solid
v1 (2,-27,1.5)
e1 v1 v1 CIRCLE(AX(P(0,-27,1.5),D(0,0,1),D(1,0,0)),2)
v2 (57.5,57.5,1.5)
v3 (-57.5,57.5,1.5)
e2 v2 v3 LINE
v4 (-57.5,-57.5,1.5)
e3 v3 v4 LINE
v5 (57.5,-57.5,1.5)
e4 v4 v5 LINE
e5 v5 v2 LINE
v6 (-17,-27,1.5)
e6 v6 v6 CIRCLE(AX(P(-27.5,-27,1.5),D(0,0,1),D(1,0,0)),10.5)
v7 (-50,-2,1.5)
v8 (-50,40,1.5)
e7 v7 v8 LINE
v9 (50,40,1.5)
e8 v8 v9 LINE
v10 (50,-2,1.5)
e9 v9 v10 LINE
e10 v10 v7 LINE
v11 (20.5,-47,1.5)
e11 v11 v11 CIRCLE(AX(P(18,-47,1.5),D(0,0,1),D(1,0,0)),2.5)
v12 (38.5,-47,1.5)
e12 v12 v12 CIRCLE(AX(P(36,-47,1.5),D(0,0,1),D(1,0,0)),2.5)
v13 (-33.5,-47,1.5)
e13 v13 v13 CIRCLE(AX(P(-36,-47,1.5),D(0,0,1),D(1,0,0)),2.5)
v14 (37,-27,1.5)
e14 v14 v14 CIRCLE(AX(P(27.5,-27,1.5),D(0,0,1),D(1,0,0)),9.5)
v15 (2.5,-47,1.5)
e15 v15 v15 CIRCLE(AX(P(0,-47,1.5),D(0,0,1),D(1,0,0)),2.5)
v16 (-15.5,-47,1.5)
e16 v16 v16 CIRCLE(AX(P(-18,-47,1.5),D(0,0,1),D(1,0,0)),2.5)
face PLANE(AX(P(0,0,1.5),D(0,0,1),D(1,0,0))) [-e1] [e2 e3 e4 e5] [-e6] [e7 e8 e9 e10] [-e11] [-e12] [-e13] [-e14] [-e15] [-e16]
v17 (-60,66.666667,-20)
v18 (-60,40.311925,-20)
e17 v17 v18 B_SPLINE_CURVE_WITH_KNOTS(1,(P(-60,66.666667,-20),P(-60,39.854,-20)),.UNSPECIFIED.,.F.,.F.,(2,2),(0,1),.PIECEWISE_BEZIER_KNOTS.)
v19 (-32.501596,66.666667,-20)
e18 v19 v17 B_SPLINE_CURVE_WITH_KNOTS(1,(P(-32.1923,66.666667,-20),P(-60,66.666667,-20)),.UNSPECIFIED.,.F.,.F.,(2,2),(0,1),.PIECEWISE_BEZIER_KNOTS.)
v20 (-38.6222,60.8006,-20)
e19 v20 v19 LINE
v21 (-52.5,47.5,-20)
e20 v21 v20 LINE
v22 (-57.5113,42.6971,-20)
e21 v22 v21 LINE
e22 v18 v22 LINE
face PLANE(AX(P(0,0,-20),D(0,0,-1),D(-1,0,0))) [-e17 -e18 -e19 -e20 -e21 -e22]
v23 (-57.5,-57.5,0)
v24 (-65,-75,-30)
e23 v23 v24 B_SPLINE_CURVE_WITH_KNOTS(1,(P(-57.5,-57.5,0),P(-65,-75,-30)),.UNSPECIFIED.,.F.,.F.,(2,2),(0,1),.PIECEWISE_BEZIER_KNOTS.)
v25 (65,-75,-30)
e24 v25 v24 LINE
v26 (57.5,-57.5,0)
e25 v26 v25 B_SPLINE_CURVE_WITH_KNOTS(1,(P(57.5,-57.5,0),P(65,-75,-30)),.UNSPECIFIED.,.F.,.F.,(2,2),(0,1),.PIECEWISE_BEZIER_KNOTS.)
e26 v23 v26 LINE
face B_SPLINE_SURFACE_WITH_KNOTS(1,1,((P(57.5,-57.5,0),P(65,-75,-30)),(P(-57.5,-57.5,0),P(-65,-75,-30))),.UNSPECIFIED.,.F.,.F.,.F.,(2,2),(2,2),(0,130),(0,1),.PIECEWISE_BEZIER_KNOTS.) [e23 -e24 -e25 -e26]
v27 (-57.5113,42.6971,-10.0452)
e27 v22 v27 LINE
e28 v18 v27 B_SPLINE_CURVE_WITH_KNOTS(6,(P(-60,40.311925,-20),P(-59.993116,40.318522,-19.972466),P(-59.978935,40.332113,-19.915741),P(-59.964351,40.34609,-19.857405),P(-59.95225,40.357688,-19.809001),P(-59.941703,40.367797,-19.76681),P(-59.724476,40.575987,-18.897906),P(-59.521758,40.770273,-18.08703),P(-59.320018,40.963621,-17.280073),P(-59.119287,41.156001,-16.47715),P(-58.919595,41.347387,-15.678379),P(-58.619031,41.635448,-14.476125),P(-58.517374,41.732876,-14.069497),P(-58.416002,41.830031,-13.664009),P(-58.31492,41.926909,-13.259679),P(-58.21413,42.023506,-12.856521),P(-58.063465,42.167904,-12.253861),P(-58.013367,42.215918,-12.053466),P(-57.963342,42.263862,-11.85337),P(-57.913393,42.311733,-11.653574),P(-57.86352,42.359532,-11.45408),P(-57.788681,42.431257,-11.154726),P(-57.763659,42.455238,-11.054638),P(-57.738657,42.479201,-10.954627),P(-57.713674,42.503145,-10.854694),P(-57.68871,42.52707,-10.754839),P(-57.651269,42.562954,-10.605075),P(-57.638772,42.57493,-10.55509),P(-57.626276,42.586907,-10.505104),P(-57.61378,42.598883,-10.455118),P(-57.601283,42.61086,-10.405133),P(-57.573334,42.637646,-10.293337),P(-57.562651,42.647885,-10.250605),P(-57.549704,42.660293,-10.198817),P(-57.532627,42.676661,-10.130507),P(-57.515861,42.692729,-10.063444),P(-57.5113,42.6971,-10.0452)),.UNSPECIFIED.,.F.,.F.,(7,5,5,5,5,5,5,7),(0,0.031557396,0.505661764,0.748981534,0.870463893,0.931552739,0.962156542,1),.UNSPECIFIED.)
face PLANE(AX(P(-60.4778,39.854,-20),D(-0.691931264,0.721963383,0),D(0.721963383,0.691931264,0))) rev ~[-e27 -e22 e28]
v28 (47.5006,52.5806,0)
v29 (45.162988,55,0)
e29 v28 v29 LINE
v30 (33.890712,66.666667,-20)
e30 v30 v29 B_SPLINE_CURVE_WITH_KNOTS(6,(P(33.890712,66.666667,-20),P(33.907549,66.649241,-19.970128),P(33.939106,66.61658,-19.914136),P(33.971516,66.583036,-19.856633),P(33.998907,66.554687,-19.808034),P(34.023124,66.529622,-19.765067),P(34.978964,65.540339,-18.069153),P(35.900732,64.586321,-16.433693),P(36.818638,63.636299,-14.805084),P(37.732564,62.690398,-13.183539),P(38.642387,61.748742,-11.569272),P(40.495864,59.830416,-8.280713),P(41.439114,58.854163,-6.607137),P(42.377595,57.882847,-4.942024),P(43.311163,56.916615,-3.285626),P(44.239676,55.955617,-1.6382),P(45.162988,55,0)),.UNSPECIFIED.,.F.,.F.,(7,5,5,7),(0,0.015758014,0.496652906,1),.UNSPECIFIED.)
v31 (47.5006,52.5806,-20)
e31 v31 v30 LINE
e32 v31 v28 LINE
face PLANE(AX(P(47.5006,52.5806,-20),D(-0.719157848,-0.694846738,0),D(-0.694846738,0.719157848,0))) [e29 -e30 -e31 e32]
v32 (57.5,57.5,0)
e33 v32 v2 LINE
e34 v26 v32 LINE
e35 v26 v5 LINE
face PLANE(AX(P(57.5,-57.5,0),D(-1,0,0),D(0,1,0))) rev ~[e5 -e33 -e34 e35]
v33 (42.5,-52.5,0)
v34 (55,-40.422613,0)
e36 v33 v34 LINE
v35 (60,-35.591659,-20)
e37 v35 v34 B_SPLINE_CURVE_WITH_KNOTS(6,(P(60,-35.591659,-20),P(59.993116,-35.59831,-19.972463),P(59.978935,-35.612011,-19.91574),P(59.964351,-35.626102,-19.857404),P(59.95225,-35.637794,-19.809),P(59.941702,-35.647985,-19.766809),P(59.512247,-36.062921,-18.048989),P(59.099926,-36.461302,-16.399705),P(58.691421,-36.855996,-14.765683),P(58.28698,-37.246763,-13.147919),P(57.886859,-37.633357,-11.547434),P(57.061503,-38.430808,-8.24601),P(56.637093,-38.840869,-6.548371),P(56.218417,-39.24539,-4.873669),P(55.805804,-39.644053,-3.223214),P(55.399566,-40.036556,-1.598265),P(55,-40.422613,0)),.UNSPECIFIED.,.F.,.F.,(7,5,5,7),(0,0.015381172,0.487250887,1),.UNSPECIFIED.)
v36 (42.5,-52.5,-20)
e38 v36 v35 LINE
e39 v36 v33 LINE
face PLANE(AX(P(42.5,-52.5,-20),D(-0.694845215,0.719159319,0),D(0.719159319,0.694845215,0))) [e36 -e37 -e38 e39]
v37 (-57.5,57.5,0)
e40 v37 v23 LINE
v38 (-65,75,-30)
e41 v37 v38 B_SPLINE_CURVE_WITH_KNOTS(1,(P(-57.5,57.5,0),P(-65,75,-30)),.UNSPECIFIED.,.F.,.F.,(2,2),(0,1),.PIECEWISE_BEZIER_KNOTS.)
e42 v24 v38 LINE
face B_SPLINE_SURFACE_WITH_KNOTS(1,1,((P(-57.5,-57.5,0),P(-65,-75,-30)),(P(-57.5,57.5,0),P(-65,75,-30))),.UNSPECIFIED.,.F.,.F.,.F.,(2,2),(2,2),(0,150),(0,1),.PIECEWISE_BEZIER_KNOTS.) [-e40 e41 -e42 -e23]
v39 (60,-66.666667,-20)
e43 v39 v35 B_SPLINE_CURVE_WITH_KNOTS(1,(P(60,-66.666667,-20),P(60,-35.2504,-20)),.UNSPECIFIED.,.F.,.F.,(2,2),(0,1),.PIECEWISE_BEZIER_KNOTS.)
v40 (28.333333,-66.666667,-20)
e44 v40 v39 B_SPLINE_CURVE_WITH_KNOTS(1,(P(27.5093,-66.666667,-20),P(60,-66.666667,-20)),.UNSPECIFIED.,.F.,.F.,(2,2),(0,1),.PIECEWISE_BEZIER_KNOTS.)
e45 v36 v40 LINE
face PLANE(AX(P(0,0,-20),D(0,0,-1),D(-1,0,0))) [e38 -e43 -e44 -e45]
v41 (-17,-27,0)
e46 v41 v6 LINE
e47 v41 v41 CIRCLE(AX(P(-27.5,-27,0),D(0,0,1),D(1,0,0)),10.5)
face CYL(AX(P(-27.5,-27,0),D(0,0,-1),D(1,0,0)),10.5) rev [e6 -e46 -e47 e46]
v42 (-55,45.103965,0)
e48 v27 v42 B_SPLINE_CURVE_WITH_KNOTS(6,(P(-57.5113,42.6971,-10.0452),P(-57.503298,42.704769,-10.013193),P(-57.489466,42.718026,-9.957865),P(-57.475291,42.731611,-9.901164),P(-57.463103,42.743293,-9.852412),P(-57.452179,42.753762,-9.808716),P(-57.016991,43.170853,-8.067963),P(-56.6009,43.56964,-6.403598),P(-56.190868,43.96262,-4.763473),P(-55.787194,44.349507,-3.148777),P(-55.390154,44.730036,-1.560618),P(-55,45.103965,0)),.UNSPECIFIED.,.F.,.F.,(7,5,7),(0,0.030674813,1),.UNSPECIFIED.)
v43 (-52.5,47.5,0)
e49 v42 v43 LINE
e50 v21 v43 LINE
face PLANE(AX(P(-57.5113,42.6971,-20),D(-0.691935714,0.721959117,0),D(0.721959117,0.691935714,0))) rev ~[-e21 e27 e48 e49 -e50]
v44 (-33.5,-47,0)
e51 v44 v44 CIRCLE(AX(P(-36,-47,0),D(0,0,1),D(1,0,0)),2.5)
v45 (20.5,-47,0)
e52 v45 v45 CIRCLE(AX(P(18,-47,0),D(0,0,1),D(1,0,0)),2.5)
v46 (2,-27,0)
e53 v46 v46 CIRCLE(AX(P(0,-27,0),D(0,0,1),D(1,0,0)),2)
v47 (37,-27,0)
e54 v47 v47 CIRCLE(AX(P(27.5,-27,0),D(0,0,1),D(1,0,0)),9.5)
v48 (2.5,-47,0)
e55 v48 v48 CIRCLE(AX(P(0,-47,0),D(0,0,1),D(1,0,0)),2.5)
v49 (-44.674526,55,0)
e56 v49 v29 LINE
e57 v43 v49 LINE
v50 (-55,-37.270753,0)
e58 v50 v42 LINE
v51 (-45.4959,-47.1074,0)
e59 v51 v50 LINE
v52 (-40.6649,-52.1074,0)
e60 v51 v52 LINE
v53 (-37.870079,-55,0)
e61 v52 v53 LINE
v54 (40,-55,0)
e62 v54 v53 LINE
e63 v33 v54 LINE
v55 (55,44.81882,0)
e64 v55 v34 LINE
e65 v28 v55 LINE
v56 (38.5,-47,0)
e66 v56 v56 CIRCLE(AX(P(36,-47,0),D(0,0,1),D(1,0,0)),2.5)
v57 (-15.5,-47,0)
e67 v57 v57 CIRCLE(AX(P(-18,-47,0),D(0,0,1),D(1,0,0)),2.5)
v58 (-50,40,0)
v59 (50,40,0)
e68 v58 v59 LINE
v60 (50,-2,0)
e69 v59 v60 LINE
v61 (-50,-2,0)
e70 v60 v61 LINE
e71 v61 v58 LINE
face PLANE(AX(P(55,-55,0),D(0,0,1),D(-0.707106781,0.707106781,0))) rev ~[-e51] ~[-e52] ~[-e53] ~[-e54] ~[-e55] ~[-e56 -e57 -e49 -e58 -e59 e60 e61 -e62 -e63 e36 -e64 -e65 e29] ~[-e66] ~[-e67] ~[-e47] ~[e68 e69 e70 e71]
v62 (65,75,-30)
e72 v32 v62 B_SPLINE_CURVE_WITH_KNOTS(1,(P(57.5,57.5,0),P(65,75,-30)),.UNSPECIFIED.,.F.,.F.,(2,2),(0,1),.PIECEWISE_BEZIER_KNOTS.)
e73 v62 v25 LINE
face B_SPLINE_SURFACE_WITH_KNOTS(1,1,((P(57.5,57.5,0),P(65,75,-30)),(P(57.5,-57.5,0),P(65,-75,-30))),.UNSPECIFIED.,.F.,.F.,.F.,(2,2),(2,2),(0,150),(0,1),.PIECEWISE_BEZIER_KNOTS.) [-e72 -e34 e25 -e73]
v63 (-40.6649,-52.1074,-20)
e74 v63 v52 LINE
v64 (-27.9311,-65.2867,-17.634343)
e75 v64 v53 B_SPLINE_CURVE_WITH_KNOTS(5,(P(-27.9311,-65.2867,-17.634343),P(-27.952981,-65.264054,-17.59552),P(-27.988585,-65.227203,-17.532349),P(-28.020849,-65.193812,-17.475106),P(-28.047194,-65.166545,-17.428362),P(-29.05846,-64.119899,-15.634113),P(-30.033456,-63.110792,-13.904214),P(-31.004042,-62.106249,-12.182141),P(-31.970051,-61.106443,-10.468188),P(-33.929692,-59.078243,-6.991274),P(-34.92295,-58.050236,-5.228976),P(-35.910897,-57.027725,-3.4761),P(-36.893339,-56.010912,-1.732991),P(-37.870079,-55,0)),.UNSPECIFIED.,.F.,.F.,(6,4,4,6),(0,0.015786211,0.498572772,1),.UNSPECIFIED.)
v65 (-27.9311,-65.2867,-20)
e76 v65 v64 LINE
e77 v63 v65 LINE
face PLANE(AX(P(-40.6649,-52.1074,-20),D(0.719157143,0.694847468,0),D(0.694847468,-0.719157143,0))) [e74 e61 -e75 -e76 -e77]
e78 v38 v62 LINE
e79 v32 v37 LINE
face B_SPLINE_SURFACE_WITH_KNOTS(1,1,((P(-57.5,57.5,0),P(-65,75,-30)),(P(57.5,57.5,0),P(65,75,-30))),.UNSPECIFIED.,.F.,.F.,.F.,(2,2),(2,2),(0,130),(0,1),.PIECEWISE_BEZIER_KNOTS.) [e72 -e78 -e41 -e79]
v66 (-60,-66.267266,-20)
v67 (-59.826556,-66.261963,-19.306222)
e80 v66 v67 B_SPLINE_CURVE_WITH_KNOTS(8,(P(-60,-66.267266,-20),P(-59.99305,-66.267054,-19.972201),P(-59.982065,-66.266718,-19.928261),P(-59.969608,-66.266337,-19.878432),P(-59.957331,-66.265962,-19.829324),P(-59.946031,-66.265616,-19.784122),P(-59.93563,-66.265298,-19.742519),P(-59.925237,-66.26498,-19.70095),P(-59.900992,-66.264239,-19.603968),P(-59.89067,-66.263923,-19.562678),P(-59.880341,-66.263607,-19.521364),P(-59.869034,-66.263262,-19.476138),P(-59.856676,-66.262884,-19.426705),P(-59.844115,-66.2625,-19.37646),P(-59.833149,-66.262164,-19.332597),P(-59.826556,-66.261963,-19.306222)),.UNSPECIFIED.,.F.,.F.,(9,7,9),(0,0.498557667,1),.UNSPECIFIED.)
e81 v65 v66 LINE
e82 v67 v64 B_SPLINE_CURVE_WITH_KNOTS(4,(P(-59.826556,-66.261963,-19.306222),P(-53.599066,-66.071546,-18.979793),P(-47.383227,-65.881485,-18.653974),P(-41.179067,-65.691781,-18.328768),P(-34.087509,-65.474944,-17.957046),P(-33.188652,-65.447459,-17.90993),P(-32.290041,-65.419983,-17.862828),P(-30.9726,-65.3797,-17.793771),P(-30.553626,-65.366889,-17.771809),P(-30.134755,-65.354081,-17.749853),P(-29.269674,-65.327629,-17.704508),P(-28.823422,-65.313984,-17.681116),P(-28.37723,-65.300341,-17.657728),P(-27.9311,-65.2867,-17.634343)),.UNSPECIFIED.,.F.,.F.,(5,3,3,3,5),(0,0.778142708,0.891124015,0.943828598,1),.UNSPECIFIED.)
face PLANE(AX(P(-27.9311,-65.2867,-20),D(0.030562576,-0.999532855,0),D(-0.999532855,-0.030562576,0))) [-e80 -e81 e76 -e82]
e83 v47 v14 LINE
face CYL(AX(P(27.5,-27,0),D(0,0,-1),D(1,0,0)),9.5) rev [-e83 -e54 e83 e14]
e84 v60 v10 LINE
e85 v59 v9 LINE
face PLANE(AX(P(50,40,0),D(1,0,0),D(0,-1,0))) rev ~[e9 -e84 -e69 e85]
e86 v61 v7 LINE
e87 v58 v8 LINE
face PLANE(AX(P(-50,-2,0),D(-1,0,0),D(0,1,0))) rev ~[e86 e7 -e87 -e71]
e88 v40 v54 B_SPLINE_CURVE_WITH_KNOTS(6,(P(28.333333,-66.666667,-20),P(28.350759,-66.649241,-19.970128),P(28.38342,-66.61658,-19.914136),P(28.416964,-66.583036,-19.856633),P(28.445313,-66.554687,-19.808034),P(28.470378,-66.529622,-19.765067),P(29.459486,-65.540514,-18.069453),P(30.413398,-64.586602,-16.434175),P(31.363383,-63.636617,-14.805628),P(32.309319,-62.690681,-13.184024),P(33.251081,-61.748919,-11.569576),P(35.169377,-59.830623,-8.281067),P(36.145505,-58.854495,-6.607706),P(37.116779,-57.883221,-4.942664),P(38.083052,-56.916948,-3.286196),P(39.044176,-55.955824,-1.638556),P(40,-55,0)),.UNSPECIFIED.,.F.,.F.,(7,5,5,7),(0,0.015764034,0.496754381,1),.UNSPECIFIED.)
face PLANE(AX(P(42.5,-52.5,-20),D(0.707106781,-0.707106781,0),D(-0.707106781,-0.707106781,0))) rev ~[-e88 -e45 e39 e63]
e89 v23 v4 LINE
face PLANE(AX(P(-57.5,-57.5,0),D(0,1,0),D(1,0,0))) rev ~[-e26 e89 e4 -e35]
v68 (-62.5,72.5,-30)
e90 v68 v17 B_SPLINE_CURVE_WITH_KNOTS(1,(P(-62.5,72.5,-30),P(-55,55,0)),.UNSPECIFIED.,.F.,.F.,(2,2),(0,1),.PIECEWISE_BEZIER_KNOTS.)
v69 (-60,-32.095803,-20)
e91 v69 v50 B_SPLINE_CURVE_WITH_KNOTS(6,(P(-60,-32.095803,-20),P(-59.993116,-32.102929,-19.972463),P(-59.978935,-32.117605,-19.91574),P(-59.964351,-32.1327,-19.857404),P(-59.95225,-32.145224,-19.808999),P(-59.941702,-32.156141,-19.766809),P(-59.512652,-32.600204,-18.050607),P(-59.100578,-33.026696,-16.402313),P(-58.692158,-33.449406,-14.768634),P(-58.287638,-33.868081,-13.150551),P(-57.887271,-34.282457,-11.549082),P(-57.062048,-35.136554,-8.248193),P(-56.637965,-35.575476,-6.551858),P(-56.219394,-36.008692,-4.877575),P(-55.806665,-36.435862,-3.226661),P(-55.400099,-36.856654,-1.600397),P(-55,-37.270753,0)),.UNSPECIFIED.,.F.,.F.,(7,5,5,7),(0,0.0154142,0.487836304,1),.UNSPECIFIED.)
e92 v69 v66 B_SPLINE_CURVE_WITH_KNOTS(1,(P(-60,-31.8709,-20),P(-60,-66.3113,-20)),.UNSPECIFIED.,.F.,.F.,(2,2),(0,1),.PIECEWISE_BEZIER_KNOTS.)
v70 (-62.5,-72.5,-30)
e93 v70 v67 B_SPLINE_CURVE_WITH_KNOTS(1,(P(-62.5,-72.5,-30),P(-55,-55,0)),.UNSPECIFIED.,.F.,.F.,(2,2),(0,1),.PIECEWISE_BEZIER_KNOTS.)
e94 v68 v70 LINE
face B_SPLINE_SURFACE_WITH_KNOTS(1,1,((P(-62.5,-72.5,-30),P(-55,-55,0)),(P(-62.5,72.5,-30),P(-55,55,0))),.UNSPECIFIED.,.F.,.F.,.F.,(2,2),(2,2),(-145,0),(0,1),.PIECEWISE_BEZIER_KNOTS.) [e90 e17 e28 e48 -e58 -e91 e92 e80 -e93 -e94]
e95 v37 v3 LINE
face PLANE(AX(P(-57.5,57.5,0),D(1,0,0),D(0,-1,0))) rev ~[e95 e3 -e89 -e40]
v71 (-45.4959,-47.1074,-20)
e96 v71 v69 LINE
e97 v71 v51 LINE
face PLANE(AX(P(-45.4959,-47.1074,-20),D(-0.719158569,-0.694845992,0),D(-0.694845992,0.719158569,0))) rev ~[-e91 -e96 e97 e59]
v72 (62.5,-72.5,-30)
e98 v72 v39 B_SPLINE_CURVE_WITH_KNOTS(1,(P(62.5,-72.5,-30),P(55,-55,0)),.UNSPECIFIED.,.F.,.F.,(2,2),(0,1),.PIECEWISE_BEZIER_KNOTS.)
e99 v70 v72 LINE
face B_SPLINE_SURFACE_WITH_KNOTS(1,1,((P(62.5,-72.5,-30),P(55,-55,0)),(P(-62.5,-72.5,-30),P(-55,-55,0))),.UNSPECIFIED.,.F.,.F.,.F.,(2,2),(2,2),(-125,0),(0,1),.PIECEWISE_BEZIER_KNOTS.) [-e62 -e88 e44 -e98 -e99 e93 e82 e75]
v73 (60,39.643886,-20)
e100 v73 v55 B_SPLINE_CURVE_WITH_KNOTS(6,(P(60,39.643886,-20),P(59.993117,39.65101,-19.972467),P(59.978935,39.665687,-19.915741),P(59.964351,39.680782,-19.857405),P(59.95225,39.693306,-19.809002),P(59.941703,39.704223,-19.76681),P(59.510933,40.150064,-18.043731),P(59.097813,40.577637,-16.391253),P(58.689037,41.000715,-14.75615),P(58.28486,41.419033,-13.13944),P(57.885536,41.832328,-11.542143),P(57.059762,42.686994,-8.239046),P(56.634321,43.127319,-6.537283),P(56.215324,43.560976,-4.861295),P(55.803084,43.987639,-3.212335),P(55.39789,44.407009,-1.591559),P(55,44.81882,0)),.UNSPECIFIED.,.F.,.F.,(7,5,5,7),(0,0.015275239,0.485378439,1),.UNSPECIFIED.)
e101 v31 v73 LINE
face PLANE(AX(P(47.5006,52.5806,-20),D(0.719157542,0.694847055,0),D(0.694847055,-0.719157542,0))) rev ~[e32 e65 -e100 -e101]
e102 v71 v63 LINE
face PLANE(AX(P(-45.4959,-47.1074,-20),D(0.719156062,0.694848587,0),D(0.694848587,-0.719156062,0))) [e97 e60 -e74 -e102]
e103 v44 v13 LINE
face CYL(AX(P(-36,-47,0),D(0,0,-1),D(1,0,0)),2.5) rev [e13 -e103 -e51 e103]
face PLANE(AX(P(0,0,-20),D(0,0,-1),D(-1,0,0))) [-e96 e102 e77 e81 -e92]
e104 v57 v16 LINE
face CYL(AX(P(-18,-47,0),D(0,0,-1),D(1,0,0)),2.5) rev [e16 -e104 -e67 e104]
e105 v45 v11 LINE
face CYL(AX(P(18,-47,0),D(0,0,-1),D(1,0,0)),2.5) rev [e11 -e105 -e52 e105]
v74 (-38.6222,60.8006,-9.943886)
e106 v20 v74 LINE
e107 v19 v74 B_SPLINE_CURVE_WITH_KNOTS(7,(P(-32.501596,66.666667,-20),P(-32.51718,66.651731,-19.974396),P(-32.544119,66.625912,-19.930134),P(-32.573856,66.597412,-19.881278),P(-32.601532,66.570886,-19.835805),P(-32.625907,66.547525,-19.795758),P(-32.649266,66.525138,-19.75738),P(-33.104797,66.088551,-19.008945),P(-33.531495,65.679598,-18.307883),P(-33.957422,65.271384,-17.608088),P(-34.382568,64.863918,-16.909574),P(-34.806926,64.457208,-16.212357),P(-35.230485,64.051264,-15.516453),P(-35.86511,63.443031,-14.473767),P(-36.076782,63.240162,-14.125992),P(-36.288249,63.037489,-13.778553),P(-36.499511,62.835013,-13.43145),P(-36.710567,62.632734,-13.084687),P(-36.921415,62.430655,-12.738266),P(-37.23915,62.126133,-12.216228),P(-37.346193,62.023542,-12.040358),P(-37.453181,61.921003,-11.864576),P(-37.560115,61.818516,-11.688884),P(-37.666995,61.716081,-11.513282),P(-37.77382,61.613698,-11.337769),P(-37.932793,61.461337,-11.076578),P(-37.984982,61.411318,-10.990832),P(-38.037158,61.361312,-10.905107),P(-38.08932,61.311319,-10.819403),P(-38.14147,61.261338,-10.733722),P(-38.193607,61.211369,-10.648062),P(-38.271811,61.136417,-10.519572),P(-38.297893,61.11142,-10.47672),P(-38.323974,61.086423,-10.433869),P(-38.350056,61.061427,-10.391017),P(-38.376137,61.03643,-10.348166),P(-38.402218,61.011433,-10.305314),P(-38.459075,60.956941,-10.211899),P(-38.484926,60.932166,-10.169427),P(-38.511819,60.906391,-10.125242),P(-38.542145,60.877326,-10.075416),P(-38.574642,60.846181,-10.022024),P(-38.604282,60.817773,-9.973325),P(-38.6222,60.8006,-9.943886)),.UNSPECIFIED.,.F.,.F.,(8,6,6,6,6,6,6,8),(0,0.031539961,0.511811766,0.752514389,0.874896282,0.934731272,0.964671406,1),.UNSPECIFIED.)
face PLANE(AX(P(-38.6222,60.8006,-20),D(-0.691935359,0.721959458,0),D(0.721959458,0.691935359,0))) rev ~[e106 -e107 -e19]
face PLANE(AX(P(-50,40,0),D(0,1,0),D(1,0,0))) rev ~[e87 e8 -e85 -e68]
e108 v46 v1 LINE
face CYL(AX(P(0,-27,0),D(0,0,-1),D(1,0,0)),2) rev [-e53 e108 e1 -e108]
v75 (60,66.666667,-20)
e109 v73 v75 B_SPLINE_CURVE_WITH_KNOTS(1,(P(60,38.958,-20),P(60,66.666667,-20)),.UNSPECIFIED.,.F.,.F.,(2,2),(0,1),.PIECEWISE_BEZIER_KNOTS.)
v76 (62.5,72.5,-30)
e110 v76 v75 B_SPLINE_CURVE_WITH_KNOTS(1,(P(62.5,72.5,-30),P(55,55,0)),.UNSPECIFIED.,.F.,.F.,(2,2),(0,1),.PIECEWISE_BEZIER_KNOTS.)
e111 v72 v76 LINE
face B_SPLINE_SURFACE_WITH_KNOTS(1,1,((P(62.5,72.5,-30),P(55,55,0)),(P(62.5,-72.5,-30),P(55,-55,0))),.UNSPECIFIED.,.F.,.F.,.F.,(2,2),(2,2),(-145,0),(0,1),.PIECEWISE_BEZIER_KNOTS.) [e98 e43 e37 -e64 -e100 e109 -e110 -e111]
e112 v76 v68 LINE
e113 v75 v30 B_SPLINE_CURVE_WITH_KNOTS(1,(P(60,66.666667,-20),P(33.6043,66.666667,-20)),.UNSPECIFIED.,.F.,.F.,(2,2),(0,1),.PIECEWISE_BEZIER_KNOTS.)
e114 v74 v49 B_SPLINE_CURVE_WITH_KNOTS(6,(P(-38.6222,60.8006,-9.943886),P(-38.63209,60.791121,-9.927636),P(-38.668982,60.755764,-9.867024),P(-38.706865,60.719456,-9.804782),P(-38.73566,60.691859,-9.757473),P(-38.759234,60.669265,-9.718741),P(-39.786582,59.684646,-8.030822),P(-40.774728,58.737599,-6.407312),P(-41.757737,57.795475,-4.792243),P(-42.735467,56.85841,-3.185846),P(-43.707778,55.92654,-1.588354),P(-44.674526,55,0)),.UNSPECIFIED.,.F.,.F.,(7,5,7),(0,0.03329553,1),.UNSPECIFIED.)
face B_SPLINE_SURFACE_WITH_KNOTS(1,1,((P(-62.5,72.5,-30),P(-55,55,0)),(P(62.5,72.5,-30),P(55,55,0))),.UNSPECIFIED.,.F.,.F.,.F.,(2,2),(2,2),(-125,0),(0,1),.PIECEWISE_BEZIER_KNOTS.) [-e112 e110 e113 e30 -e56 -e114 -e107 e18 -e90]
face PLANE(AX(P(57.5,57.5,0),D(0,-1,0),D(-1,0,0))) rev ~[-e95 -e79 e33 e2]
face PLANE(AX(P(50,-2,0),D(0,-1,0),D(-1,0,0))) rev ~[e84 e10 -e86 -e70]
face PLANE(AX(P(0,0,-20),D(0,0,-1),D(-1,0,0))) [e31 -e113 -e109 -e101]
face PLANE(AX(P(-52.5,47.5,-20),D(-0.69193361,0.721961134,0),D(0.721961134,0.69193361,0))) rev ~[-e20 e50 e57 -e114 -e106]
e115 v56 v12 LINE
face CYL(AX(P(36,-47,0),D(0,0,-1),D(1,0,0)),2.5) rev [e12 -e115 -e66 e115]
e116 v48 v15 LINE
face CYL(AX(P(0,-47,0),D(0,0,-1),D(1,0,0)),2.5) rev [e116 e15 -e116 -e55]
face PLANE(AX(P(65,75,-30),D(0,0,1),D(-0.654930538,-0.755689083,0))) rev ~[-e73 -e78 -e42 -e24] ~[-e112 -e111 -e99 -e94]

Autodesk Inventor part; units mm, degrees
sketch "Szkic1" plane through (0, 0, 0) normal (0, 0, 1) x (1, 0, 0)
  line L0 (-55, -55) -> (55, -55)
  line L1 (55, -55) -> (55, 55)
  line L2 (55, 55) -> (-55, 55)
  line L3 (-55, 55) -> (-55, -55)
  line L4 (-55, -55) -> (55, 55) construction
  line L5 (-55, 55) -> (-55, 40) construction
  line L6 (-55, 40) -> (-50, 40)
  line L7 (-50, 40) -> (50, 40)
  line L8 (50, 40) -> (50, -2)
  line L9 (50, -2) -> (-50, -2)
  line L10 (-50, -2) -> (-50, 40)
  line L11 (0, -2) -> (0, -27) construction
  circle A0 centre (0, -27) radius 2
  line L12 (0, -27) -> (27.5, -27) construction
  line L13 (27.5, -27) -> (-27.5, -27) construction
  circle A1 centre (-27.5, -27) radius 10.5
  circle A2 centre (27.5, -27) radius 9.5
  line L14 (0, -27) -> (0, -47) construction
  line L15 (0, -47) -> (0, -57) construction
  line L16 (0, -47) -> (-18, -47) construction
  line L17 (-18, -47) -> (-36, -47) construction
  line L18 (0, -47) -> (18, -47) construction
  line L19 (18, -47) -> (36, -47) construction
  circle A3 centre (-36, -47) radius 2.5
  circle A4 centre (-18, -47) radius 2.5
  circle A5 centre (0, -47) radius 2.5
  circle A6 centre (18, -47) radius 2.5
  circle A7 centre (36, -47) radius 2.5
  line L20 (-57.5, -57.5) -> (57.5, -57.5)
  line L21 (57.5, -57.5) -> (57.5, 57.5)
  line L22 (57.5, 57.5) -> (-57.5, 57.5)
  line L23 (-57.5, 57.5) -> (-57.5, -57.5)
  line L24 (-57.5, -57.5) -> (57.5, 57.5) construction
  line L25 (57.5, -57.5) -> (-57.5, 57.5) construction
  point P0 (0, 0)
  point P1 (-55, -37)
  point P2 (55, -37)
  dimension "d0" = 110
  dimension "d1" = 110
  dimension "d2" = 15
  dimension "d3" = 100
  dimension "d4" = 42
  dimension "d5" = 25
  dimension "d6" = 4
  dimension "d7" = 27.5
  dimension "d8" = 55
  dimension "d10" = 19
  dimension "d11" = 20
  dimension "d12" = 10
  dimension "d13" = 18
  dimension "d14" = 18
  dimension "d15" = 18
  dimension "d16" = 18
  dimension "d17" = 5
  dimension "d18" = 5
  dimension "d19" = 5
  dimension "d20" = 5
  dimension "d21" = 5
  dimension "d51" = 115
  dimension "d52" = 115
extrude "Wyciągnięcie proste1" add sketch "Szkic1" along normal blind 1.5 contours L3 L2 L1 L0 | L23 L22 L21 L20
ref_plane "Płaszczyzna konstrukcyjna1" through (0, 0, -30) normal (0, 0, -1) x (-1, 0, 0)
ref_plane "Płaszczyzna konstrukcyjna2" through (0, 0, -20) normal (0, 0, -1) x (-1, 0, 0)
ref_plane "Płaszczyzna konstrukcyjna3" through (0, 0, 0) normal (0, 0, -1) x (-1, 0, 0)
ref_plane "Płaszczyzna konstrukcyjna4" through (75, -75, -30) normal (0, 0, -1) x (-1, 0, 0)
chamfer "Faza1" [suppressed]
sketch "Szkic9" plane through (0, 0, 0) normal (0, 0, -1) x (-1, 0, 0)
  line L0 (-57.5, -57.5) -> (57.5, -57.5)
  line L1 (57.5, -57.5) -> (57.5, 57.5)
  line L2 (57.5, 57.5) -> (-57.5, 57.5)
  line L3 (-57.5, 57.5) -> (-57.5, -57.5)
  line L4 (-57.5, -57.5) -> (57.5, 57.5) construction
  line L5 (57.5, -57.5) -> (-57.5, 57.5) construction
  point P0 (0, 0)
sketch "Szkic10" plane through (0, 0, 0) normal (0, 0, -1) x (-1, 0, 0)
  line L0 (-55, -55) -> (55, -55)
  line L1 (55, -55) -> (55, 55)
  line L2 (55, 55) -> (-55, 55)
  line L3 (-55, 55) -> (-55, -55)
  line L4 (-55, -55) -> (55, 55) construction
  line L5 (55, -55) -> (-55, 55) construction
  point P0 (0, 0)
  dimension "d67" = 110
  dimension "d68" = 110
ref_plane "Płaszczyzna konstrukcyjna5" through (45.0845, 55, -30) normal (0, 0, -1) x (-1, 0, 0)
sketch "Szkic14" plane through (45.0845, 55, -30) normal (0, 0, -1) x (-1, 0, 0)
  line L0 (-19.9155, -130) -> (110.0845, -130)
  line L1 (110.0845, -130) -> (110.0845, 20)
  line L2 (110.0845, 20) -> (-19.9155, 20)
  line L3 (-19.9155, 20) -> (-19.9155, -130)
  line L4 (-19.9155, -130) -> (110.0845, 20) construction
  line L5 (110.0845, -130) -> (-19.9155, 20) construction
  point P0 (45.0845, -55)
  dimension "d93" = 130
  dimension "d94" = 150
sketch "Szkic15" plane through (45.0845, 55, -30) normal (0, 0, -1) x (-1, 0, 0)
  line L0 (107.5845, -127.5) -> (-17.4155, -127.5)
  line L1 (-17.4155, -127.5) -> (-17.4155, 17.5)
  line L2 (-17.4155, 17.5) -> (107.5845, 17.5)
  line L3 (107.5845, 17.5) -> (107.5845, -127.5)
  line L4 (107.5845, -127.5) -> (-17.4155, 17.5) construction
  line L5 (-17.4155, -127.5) -> (107.5845, 17.5) construction
  point P0 (45.0845, -55)
  dimension "d95" = 125
  dimension "d96" = 145
loft "Wyciągnięcie złożone5" add profiles "Szkic9", "Szkic14"
loft "Wyciągnięcie złożone6" cut profiles "Szkic15", "Szkic10"
sketch "Szkic8" plane through (0, 0, -20) normal (0, 0, -1) x (-1, 0, 0)
  line L0 (-52.5, -52.5) -> (52.5, 52.5) construction
  line L1 (-55, 55) -> (-62.5, 72.5) projected
  line L2 (52.5, 52.5) -> (52.5, 47.5)
  line L3 (52.5, 47.5) -> (38.6222, 60.8006)
  line L4 (57.5113, 42.6971) -> (52.5, 47.5)
  line L5 (-52.5, 52.5) -> (-47.5006, 52.5806)
  line L6 (-47.5006, 52.5806) -> (-33.6043, 66.9631)
  line L7 (-47.5006, 52.5806) -> (-60.6627, 38.958)
  line L8 (-60.6627, 38.958) -> (-60.1271, 66.9631)
  line L9 (-60.1271, 66.9631) -> (-33.6043, 66.9631)
  line L10 (-52.5, -52.5) -> (-42.5, -52.5)
  line L11 (-42.5, -52.5) -> (-60.3532, -35.2504)
  line L12 (45.4959, -47.1074) -> (40.6649, -52.1074)
  line L13 (45.4959, -47.1074) -> (60.2173, -31.8709)
  line L14 (-60.3532, -35.2504) -> (-60.3532, -67.4907)
  line L15 (-55, -55) -> (-62.5, -72.5) projected
  line L16 (-42.5, -52.5) -> (-34.5509, -60.4491)
  line L17 (-42.5, -52.5) -> (-31.2582, -52.5) construction
  line L18 (-60.3532, -67.4907) -> (-27.5093, -67.4907)
  line L19 (-27.5093, -67.4907) -> (-35.5667, -59.4333)
  line L20 (57.5113, 42.6971) -> (38.6222, 60.8006)
  line L21 (38.6222, 60.8006) -> (32.1923, 66.9631)
  line L22 (32.1923, 66.9631) -> (60.2173, 66.9631)
  line L23 (60.2173, 66.9631) -> (60.4778, 39.854)
  line L24 (60.4778, 39.854) -> (57.5113, 42.6971)
  line L25 (40.6649, -52.1074) -> (27.9311, -65.2867)
  line L26 (27.9311, -65.2867) -> (61.4401, -66.3113)
  line L27 (60.2173, -31.8709) -> (61.4401, -66.3113)
  point P0 (0, 0)
  dimension "d83" = 5
  dimension "d84" = 5
  dimension "d85" = 10
  dimension "d87" = 45
extrude "Wyciągnięcie proste3" add sketch "Szkic8" against normal up to next
properties part number "gora_obodowy_plaska"
